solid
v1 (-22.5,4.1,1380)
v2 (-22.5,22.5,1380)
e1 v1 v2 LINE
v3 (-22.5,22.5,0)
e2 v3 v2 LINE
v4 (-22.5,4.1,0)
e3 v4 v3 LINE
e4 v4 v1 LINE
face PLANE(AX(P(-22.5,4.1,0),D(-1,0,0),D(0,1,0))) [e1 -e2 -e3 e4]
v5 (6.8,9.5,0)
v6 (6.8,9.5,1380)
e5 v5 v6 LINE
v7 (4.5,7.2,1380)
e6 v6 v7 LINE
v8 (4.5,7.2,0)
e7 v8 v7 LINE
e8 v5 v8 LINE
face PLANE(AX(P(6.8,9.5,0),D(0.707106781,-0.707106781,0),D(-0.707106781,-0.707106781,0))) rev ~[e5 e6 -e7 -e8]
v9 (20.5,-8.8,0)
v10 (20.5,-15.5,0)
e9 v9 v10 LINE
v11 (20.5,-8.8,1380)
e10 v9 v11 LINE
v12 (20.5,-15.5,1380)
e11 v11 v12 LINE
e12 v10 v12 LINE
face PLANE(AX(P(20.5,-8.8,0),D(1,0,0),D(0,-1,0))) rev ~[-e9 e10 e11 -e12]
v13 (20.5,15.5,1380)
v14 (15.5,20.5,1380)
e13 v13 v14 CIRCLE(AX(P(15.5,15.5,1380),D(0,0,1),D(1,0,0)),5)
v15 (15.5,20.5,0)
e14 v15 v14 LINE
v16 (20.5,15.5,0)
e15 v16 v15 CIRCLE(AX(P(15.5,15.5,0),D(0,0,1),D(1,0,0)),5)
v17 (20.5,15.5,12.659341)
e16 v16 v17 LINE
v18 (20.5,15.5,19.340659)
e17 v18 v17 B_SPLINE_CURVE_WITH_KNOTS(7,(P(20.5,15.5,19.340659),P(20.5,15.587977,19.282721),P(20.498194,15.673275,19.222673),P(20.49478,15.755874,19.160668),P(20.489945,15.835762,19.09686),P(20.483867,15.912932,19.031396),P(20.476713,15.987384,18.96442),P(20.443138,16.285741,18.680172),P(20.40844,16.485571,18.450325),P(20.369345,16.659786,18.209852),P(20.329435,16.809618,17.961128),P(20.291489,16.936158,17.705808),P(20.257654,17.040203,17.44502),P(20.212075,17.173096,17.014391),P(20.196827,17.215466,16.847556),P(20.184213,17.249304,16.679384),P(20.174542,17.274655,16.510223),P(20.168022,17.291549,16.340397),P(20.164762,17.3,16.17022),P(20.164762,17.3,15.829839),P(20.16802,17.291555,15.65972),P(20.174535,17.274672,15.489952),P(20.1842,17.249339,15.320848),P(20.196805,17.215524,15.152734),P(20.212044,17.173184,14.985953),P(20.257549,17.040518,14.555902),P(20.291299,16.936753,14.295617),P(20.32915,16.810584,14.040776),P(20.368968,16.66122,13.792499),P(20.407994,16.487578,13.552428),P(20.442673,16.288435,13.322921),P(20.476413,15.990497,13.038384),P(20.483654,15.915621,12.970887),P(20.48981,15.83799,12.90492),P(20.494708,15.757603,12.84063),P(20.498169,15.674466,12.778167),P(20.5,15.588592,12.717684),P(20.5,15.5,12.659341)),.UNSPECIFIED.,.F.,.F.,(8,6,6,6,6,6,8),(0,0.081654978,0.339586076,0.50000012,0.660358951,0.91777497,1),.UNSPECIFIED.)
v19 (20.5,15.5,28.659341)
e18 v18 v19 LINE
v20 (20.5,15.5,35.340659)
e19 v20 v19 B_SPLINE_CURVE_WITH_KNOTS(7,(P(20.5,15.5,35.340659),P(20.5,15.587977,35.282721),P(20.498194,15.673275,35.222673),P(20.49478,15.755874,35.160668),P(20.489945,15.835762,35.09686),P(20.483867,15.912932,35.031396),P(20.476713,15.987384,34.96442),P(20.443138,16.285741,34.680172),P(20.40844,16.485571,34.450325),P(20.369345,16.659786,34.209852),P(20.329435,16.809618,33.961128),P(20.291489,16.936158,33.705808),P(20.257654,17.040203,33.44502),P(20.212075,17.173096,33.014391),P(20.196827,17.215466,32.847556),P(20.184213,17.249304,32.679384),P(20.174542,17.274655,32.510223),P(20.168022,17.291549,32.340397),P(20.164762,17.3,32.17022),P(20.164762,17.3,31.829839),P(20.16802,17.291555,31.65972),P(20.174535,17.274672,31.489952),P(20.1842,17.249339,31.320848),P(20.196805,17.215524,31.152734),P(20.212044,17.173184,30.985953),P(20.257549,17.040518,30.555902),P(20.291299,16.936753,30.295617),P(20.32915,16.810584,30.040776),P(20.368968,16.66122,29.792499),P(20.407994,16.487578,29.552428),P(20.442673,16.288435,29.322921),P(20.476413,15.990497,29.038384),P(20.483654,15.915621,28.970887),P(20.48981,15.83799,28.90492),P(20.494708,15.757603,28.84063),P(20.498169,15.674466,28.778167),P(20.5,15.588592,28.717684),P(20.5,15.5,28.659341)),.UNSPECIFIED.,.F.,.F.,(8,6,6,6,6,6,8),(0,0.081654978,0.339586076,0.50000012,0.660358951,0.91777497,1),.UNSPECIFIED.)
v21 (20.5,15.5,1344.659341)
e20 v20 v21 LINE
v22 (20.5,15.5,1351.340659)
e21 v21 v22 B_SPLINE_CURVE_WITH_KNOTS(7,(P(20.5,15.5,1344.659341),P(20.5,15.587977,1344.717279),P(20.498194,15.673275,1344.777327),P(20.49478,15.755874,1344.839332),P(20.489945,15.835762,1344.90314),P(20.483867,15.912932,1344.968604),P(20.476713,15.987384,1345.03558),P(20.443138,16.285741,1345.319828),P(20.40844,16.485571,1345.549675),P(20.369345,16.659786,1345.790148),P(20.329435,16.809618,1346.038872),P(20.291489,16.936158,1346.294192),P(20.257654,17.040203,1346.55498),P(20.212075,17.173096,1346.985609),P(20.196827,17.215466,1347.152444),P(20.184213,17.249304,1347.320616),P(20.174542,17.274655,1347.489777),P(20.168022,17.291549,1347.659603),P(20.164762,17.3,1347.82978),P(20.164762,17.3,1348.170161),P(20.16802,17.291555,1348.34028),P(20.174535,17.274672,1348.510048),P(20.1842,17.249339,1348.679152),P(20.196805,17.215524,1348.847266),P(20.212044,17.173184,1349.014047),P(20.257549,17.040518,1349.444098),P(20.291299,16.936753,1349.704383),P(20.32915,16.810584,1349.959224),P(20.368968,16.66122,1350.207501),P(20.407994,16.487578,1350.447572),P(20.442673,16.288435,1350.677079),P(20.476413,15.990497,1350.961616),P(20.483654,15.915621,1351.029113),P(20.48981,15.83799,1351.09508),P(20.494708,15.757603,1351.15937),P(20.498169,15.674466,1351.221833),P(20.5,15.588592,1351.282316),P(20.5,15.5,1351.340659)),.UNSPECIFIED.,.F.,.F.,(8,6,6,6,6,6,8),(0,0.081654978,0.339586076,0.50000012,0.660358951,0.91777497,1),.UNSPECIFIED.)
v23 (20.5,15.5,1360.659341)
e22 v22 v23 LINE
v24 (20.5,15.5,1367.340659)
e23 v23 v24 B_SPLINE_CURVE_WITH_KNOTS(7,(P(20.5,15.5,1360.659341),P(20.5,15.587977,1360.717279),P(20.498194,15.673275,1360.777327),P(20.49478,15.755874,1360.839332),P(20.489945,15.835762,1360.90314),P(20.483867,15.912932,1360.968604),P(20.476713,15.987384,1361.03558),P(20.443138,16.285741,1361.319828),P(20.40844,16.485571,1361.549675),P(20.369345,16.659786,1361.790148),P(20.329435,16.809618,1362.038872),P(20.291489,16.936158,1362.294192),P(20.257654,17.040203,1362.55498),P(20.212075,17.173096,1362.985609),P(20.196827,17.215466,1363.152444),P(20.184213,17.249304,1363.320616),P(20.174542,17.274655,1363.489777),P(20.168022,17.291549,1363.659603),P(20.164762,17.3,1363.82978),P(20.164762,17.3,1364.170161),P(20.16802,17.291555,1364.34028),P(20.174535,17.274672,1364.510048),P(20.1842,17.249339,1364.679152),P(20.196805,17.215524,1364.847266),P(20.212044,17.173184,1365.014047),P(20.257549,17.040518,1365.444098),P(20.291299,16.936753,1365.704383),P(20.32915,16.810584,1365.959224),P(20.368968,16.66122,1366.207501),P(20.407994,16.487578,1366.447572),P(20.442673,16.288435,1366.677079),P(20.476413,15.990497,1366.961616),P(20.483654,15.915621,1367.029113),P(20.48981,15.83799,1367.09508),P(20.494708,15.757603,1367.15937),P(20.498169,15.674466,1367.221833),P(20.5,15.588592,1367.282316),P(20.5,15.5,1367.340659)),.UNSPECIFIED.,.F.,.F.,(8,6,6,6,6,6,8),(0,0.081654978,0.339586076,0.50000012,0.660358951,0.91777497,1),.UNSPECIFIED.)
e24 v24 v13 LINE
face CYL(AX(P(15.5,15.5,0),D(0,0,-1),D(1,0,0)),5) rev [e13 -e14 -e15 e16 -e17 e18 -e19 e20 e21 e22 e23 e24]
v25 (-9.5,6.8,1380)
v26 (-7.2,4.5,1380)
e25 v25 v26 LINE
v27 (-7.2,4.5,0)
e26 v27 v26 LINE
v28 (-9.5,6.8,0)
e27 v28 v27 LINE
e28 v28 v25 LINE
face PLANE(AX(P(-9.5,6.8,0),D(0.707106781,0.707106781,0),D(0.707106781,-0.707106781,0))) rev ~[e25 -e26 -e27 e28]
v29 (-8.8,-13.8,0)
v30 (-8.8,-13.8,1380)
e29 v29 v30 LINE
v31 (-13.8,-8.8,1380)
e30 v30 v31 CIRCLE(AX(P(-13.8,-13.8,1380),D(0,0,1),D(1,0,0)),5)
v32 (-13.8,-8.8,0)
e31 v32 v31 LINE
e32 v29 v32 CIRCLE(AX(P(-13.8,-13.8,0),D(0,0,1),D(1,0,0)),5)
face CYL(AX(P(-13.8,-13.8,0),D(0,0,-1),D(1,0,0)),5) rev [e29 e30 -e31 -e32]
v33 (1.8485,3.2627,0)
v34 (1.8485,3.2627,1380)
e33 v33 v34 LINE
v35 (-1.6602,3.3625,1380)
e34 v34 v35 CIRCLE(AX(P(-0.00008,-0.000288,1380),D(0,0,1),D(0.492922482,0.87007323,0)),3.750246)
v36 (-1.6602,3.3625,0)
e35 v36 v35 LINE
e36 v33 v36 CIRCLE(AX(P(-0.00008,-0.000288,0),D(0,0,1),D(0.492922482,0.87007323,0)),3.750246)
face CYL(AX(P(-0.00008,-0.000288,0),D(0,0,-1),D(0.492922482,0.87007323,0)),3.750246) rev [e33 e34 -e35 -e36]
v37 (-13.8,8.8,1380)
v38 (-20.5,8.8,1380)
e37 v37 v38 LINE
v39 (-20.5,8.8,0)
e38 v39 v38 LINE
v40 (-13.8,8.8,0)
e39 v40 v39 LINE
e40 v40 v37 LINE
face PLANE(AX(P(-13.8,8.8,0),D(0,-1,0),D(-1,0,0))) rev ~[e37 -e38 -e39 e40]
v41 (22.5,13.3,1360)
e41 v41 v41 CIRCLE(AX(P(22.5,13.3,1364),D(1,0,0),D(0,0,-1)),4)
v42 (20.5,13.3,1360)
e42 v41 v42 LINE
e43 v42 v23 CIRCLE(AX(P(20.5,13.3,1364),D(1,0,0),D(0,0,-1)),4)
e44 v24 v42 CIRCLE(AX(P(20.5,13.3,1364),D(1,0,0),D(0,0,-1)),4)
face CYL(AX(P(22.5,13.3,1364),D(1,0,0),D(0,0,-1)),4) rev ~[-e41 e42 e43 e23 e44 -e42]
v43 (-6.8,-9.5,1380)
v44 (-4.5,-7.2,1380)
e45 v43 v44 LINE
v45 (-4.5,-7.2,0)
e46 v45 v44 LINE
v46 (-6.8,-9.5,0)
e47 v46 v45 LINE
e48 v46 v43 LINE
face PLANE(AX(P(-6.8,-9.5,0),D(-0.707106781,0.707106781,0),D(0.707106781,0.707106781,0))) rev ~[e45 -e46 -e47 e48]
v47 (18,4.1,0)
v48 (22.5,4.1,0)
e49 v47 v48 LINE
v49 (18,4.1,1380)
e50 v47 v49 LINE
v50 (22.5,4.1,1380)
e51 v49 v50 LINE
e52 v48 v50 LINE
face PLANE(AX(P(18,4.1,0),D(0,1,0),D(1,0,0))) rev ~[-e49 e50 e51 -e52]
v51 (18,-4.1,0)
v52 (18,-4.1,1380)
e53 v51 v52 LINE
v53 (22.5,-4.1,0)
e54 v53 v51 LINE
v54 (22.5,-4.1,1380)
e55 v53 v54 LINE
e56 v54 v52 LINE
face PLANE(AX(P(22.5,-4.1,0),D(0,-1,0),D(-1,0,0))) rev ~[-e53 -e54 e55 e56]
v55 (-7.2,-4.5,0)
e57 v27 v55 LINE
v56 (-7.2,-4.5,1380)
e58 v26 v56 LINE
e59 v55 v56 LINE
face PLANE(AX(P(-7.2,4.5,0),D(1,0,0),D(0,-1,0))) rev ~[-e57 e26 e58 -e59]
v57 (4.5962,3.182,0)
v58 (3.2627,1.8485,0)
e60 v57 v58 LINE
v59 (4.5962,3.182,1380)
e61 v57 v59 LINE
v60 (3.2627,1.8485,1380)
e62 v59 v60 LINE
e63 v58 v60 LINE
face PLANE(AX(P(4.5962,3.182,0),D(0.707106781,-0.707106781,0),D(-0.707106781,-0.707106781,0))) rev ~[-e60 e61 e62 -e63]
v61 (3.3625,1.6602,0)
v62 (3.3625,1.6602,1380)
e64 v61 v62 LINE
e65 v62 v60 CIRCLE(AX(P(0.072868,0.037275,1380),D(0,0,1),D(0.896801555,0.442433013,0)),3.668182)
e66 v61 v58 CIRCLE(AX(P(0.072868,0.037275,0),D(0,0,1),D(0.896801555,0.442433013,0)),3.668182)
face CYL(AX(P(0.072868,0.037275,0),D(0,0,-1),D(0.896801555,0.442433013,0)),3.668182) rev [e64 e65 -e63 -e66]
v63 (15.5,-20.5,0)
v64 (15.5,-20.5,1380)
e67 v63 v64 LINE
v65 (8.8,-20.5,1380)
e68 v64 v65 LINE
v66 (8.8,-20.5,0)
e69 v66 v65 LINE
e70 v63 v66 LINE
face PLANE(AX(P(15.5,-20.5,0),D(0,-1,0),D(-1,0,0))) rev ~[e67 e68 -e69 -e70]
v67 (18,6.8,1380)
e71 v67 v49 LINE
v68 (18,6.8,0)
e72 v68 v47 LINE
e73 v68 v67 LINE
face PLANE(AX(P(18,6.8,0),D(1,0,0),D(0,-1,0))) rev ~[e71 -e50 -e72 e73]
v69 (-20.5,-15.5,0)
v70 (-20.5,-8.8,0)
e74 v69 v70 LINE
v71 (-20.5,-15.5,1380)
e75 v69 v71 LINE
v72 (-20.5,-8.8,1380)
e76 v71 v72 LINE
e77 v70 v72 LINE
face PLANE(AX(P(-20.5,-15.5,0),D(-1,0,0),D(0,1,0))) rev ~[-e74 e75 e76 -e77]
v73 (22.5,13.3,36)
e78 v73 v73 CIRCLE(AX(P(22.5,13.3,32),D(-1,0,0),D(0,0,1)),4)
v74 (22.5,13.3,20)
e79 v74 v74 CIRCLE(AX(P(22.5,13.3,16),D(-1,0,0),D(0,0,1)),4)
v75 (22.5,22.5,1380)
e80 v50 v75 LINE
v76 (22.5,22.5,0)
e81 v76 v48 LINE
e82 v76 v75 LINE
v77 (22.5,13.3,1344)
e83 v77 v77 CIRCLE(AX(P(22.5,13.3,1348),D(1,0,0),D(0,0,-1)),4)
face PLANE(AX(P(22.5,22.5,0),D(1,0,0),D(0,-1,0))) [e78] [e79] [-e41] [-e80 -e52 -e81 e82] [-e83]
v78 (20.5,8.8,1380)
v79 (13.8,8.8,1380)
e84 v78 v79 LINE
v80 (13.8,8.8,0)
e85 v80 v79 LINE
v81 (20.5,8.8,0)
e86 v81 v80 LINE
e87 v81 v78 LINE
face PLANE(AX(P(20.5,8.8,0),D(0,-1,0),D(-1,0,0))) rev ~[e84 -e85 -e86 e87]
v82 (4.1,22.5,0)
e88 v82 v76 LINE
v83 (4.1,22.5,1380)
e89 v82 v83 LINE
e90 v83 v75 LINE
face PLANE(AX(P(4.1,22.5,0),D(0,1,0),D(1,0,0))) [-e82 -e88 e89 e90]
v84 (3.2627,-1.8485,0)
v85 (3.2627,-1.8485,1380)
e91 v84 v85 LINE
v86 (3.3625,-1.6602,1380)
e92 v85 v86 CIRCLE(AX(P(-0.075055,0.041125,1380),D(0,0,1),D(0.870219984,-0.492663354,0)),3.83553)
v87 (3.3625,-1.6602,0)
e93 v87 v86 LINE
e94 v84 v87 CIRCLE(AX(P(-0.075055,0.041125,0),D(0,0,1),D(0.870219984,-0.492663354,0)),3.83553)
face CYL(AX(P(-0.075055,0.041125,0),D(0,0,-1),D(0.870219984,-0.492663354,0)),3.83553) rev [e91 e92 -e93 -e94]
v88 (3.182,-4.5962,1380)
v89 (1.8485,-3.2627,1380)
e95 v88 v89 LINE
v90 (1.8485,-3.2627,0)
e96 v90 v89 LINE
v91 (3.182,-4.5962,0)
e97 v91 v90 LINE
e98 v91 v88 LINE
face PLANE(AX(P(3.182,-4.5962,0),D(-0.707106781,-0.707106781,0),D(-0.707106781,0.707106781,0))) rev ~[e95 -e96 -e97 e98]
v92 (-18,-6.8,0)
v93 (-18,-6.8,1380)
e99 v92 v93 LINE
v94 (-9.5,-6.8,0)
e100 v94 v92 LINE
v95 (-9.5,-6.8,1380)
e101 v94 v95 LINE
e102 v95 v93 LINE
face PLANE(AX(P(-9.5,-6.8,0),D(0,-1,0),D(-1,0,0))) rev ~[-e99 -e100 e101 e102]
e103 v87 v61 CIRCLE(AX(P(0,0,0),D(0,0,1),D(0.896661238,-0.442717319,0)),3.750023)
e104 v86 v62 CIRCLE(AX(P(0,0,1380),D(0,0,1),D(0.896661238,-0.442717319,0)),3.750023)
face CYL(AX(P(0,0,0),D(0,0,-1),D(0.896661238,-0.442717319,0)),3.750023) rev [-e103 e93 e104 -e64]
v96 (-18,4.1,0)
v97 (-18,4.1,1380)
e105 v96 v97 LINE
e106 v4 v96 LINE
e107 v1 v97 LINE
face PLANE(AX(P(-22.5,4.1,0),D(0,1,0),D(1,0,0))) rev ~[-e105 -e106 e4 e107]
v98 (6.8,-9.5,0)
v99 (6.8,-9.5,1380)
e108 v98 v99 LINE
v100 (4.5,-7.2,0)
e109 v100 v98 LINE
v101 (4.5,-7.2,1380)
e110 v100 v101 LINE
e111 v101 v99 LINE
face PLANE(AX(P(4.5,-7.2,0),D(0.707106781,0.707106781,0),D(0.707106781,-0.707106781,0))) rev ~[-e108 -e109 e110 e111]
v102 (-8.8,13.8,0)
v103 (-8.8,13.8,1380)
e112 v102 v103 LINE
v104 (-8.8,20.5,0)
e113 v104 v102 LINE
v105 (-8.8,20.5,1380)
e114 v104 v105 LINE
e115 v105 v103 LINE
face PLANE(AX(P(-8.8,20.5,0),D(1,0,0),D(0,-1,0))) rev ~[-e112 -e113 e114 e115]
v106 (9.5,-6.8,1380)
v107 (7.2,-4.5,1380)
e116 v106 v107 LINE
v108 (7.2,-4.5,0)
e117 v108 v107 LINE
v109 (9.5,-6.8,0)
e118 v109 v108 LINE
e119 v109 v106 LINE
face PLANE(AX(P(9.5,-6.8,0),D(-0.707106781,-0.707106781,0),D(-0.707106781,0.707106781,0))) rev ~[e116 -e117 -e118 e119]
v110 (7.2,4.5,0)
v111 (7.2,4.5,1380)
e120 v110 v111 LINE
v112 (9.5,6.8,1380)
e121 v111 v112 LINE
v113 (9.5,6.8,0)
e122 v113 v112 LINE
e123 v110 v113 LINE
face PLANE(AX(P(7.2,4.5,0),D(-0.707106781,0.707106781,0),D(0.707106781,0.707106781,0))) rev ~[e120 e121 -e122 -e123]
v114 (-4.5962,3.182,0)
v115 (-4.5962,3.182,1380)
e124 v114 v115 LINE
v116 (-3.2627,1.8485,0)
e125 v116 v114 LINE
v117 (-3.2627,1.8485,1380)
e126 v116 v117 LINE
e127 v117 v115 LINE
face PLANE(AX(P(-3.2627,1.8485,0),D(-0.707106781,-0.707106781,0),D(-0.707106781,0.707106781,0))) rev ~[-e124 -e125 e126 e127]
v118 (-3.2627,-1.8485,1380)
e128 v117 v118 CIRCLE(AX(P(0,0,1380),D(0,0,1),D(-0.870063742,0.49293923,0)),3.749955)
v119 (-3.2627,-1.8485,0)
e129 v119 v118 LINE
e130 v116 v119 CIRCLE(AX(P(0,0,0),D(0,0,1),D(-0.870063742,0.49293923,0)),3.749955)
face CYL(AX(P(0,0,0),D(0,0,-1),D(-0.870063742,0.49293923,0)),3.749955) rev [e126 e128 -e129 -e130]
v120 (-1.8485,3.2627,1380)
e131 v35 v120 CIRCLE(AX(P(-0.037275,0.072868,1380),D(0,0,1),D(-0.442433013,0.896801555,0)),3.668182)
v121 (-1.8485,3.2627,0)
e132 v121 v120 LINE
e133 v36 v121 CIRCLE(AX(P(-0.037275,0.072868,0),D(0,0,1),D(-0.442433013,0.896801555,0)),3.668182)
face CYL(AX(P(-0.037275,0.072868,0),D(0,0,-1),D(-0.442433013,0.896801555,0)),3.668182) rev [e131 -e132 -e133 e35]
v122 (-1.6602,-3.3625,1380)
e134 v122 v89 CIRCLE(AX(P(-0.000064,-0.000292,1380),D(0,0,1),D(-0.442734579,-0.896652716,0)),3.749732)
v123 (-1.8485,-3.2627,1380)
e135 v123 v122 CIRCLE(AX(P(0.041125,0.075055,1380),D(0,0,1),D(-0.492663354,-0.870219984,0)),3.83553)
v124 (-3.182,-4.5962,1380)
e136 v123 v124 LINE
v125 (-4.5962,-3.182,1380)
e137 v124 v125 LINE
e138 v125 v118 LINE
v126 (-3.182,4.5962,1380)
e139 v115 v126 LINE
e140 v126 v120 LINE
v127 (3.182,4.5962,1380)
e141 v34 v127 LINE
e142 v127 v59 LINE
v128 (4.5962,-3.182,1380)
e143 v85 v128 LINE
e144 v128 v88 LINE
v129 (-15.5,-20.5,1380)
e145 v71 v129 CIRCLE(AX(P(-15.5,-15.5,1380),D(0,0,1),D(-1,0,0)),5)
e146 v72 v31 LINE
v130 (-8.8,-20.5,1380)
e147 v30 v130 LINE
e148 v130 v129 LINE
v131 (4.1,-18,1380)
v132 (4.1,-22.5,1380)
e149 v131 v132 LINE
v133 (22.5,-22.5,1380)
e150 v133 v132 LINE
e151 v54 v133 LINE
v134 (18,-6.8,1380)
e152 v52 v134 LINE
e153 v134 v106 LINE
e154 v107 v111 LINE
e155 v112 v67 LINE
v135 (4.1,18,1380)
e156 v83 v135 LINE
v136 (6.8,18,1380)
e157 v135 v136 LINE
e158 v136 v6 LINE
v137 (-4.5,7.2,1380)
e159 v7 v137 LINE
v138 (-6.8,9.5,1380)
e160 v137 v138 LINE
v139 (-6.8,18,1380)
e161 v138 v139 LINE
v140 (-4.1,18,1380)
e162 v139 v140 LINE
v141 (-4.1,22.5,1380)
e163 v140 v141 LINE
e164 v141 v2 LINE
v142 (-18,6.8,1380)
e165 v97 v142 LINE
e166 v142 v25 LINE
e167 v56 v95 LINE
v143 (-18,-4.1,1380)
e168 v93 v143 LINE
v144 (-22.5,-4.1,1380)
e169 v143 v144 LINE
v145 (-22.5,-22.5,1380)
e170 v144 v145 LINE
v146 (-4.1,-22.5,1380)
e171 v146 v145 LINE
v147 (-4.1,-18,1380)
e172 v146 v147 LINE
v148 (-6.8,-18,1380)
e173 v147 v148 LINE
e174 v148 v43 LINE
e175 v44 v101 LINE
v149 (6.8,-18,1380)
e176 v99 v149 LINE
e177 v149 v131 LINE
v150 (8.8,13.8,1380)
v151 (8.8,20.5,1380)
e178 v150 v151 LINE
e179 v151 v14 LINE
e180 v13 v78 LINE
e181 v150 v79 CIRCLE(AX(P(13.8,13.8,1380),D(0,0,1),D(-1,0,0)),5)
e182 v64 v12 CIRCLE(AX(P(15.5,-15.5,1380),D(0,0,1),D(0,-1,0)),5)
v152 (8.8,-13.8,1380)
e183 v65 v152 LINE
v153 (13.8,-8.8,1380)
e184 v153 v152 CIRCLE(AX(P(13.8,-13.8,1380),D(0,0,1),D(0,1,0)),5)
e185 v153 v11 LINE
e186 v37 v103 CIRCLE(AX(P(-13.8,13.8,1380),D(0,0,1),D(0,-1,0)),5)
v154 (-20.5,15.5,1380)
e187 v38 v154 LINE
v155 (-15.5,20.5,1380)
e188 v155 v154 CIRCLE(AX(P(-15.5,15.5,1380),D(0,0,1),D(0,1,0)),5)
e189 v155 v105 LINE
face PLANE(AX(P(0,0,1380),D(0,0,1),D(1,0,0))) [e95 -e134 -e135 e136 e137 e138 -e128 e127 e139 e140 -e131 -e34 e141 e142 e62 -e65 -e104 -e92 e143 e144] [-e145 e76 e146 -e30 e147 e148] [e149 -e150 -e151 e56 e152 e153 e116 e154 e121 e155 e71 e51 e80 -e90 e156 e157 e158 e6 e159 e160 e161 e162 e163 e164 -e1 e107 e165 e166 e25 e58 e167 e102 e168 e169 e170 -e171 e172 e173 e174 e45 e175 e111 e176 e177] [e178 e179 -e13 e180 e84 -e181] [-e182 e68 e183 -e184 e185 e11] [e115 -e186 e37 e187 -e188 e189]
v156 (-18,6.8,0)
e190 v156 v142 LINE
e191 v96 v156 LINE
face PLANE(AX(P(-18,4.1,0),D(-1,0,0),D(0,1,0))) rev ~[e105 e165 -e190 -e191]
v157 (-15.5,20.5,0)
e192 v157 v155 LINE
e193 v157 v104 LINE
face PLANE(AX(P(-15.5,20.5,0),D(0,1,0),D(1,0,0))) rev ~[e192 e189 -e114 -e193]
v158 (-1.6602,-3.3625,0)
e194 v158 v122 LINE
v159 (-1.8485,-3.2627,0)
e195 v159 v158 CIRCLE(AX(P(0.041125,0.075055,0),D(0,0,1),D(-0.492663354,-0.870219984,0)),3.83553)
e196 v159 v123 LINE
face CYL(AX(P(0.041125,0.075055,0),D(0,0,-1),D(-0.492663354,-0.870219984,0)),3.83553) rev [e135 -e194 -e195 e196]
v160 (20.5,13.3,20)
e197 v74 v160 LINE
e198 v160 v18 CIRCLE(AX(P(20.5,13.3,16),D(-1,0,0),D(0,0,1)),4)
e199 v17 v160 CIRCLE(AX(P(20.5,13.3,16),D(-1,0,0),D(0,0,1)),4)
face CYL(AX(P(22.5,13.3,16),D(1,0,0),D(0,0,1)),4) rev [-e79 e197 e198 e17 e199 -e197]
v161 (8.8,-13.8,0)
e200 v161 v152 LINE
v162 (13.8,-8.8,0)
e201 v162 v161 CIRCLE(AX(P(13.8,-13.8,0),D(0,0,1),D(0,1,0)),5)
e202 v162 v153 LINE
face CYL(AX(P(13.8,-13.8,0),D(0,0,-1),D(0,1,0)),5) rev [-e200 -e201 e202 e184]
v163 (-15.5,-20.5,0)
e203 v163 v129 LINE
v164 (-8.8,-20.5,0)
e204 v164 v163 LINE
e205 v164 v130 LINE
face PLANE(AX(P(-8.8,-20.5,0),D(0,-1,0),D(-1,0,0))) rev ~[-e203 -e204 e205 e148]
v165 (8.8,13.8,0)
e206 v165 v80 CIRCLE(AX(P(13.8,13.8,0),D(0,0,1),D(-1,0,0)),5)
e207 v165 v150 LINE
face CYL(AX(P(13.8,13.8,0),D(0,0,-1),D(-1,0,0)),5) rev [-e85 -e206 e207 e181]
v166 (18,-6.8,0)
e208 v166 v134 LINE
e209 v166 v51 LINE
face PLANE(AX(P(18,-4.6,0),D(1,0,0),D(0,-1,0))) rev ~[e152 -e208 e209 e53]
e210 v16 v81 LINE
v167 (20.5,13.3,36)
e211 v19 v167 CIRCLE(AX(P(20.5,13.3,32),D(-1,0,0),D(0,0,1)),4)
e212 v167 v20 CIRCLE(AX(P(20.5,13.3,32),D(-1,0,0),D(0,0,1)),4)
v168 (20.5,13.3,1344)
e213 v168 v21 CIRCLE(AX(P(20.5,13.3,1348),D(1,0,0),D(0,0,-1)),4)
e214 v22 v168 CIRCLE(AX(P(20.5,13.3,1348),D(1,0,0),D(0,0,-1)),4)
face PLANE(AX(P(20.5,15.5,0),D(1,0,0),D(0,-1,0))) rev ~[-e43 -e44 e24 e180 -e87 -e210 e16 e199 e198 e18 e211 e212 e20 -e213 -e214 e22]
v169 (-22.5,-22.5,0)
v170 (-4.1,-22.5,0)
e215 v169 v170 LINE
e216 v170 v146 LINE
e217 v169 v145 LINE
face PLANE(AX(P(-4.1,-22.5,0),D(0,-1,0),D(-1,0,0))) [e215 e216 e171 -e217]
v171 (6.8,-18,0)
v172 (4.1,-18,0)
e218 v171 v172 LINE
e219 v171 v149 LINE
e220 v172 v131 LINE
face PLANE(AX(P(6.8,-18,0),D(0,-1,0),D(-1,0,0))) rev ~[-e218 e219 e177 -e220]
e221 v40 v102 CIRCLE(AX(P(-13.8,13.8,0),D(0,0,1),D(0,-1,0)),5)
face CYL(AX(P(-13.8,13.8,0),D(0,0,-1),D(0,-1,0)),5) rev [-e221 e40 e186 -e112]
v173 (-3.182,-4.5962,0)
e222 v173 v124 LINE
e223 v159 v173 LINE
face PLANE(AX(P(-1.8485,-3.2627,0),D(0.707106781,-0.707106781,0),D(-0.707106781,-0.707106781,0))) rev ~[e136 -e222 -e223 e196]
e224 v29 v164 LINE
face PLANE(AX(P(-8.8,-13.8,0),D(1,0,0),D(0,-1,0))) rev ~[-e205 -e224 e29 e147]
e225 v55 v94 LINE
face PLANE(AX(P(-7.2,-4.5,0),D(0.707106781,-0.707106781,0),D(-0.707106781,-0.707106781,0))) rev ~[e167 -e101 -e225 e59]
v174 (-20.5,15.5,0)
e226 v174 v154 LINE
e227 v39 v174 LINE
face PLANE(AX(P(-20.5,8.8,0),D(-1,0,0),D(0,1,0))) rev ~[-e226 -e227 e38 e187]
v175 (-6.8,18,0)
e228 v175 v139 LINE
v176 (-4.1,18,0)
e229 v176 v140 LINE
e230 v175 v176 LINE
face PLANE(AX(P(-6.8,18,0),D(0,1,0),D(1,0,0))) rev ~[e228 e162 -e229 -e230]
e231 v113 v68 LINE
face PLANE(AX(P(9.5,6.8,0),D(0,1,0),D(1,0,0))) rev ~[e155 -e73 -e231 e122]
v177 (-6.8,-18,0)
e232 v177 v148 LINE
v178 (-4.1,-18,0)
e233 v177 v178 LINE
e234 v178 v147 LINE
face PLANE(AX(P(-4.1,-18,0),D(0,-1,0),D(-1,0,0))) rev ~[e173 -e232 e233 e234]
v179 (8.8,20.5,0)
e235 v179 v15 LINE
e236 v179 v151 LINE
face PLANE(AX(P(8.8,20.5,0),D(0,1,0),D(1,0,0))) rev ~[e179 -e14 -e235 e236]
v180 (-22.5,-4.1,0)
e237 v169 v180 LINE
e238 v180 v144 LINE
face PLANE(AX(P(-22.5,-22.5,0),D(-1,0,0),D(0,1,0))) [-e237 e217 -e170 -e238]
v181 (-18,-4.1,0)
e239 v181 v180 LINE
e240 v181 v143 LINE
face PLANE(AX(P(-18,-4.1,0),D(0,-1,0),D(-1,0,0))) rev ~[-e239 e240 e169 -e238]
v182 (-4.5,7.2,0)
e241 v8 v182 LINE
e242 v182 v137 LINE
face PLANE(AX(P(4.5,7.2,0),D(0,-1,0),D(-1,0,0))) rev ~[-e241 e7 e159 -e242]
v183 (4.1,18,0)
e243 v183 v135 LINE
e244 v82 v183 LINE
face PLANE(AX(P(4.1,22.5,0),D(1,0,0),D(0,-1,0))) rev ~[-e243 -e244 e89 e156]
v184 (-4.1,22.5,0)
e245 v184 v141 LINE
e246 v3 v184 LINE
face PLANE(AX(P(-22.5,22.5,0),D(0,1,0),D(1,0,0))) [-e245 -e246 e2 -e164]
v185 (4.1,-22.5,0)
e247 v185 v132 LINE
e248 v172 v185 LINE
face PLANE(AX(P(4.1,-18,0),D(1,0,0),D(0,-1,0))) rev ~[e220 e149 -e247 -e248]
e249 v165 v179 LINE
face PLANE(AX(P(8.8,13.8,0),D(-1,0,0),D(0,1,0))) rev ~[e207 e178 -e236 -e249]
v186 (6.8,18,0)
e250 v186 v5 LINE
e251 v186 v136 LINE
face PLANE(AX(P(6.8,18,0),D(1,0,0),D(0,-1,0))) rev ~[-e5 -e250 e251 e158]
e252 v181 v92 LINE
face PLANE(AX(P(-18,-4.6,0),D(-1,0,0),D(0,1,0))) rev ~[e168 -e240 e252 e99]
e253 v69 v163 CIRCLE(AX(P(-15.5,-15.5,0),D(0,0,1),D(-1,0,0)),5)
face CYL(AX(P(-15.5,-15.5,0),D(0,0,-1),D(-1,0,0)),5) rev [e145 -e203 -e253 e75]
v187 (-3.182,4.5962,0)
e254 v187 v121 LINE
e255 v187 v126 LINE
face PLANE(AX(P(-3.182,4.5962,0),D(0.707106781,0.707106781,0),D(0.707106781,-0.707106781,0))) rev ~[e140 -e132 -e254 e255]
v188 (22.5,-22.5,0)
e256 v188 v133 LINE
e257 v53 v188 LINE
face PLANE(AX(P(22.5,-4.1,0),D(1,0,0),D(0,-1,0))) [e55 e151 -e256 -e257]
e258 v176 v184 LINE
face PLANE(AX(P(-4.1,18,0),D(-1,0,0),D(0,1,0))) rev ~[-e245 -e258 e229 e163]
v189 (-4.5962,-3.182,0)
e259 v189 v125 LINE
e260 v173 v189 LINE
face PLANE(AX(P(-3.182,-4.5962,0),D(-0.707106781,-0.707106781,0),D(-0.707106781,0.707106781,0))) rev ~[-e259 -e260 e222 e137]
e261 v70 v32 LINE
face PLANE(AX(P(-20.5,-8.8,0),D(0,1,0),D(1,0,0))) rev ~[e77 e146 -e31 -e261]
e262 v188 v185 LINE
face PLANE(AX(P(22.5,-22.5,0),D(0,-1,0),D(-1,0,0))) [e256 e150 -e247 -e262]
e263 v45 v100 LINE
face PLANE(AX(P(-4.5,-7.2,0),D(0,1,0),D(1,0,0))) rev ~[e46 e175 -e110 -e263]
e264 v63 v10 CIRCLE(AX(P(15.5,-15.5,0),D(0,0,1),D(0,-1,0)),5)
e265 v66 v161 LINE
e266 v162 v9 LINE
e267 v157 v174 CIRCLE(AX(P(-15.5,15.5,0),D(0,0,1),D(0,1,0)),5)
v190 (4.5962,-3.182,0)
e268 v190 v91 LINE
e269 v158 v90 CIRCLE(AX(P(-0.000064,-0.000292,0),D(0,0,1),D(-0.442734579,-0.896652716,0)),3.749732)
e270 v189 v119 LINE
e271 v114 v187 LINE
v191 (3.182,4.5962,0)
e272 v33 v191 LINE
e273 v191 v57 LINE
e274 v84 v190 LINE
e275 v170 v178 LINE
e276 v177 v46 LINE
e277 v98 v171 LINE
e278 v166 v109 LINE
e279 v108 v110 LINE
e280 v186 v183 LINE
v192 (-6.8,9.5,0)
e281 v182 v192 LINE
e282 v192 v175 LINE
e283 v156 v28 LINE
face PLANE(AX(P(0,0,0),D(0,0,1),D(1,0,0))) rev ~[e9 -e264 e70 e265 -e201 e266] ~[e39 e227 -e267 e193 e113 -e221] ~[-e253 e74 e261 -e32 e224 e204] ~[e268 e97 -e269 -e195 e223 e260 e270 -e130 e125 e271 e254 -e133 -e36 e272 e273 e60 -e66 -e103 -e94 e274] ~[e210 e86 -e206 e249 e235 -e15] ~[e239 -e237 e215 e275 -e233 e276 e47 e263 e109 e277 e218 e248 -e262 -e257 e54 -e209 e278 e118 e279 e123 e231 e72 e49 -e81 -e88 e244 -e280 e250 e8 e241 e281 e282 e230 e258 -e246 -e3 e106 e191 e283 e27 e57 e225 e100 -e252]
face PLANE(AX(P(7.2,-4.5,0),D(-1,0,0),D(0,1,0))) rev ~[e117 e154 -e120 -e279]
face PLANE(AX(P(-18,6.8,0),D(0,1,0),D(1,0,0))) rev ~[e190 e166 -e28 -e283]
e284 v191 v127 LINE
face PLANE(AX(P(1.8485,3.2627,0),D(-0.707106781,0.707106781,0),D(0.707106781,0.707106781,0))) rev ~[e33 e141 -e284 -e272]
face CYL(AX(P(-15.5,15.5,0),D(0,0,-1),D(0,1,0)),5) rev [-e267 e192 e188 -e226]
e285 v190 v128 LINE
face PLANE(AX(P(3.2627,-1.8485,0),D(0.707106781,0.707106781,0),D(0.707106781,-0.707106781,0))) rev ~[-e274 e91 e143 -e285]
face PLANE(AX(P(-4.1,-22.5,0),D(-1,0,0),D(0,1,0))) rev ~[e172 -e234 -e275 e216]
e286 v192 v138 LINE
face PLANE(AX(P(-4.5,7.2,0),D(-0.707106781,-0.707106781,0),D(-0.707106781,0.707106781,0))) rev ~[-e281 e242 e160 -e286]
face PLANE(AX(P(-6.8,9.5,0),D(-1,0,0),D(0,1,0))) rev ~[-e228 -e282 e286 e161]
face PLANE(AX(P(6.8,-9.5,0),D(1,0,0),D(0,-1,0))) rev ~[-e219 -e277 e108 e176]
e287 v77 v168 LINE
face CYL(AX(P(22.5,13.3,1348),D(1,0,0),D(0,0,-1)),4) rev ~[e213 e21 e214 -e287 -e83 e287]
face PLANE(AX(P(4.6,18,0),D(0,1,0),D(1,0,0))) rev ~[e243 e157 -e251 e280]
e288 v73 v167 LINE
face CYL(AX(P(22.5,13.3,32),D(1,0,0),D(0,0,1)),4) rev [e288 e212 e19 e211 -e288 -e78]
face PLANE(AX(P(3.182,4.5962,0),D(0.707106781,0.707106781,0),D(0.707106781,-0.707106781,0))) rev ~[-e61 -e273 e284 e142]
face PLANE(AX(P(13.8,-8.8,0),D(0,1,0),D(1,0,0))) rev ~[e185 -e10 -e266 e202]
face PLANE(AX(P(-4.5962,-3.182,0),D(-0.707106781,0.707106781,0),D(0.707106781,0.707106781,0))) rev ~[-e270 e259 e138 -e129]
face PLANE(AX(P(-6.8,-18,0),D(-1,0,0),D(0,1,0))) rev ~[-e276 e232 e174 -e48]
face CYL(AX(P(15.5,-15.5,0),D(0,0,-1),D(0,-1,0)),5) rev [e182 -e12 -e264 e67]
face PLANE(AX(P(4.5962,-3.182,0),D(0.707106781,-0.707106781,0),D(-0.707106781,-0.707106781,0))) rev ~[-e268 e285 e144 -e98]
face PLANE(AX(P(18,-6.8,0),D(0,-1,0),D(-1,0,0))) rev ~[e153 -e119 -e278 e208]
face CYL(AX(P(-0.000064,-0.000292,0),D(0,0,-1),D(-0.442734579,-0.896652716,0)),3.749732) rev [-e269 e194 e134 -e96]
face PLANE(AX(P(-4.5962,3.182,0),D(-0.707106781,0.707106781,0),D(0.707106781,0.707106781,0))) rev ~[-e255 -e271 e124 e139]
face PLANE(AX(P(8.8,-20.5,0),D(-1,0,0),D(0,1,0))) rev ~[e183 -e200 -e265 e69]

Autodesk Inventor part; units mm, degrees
ref_plane "YZ Plane" through (0, 0, 0) normal (1, 0, 0) x (0, 1, 0)
ref_plane "XZ Plane" through (0, 0, 0) normal (0, 1, 0) x (-1, 0, 0)
ref_plane "XY Plane" through (0, 0, 0) normal (0, 0, 1) x (1, 0, 0)
sketch "Sketch1" plane through (0, 0, 0) normal (0, 0, 1) x (1, 0, 0)
  line L0 (-4.1, -22.5) -> (-4.1, -18)
  line L1 (-4.6, -18) -> (-6.8, -18)
  line L2 (-6.8, -18) -> (-6.8, -9.5)
  line L3 (-6.8, -9.5) -> (-4.5, -7.2)
  line L4 (-4.5, -7.2) -> (4.5, -7.2)
  line L5 (4.5, -7.2) -> (6.8, -9.5)
  line L6 (6.8, -9.5) -> (6.8, -18)
  line L7 (4.1, -18) -> (4.1, -22.5)
  line L8 (22.5, -4.1) -> (18, -4.1)
  line L9 (18, -4.6) -> (18, -6.8)
  line L10 (18, -6.8) -> (9.5, -6.8)
  line L11 (9.5, -6.8) -> (7.2, -4.5)
  line L12 (7.2, -4.5) -> (7.2, 4.5)
  line L13 (7.2, 4.5) -> (9.5, 6.8)
  line L14 (9.5, 6.8) -> (18, 6.8)
  line L15 (18, 4.1) -> (22.5, 4.1)
  line L16 (22.5, 22.5) -> (22.5, 4.4)
  line L17 (4.1, 22.5) -> (4.1, 18)
  line L18 (4.6, 18) -> (6.8, 18)
  line L19 (6.8, 18) -> (6.8, 9.5)
  line L20 (6.8, 9.5) -> (4.5, 7.2)
  line L21 (4.5, 7.2) -> (-4.5, 7.2)
  line L22 (-4.5, 7.2) -> (-6.8, 9.5)
  line L23 (-6.8, 9.5) -> (-6.8, 18)
  line L24 (-4.1, 18) -> (-4.1, 22.5)
  line L25 (-22.5, 22.5) -> (-4.4, 22.5)
  line L26 (-22.5, 4.1) -> (-18, 4.1)
  line L27 (-18, 6.8) -> (-9.5, 6.8)
  line L28 (-9.5, 6.8) -> (-7.2, 4.5)
  line L29 (-7.2, 4.5) -> (-7.2, -4.5)
  line L30 (-7.2, -4.5) -> (-9.5, -6.8)
  line L31 (-9.5, -6.8) -> (-18, -6.8)
  line L32 (-18, -6.8) -> (-18, -4.6)
  line L33 (-18, -4.1) -> (-22.5, -4.1)
  line L34 (-22.5, -22.5) -> (-22.5, -4.4)
  line L35 (-4.4, -22.5) -> (-22.5, -22.5)
  line L36 (-4.5962, -3.182) -> (-3.2627, -1.8485)
  line L37 (-3.2627, 1.8485) -> (-4.5962, 3.182)
  line L38 (-4.5962, 3.182) -> (-3.182, 4.5962)
  line L39 (-3.182, 4.5962) -> (-1.8485, 3.2627)
  line L40 (1.8485, 3.2627) -> (3.182, 4.5962)
  line L41 (3.182, 4.5962) -> (4.5962, 3.182)
  line L42 (4.5962, 3.182) -> (3.2627, 1.8485)
  arc A0 (3.3625, -1.6602) -> (3.3625, 1.6602) centre (0, 0) ccw
  line L43 (3.2627, -1.8485) -> (4.5962, -3.182)
  line L44 (4.5962, -3.182) -> (3.182, -4.5962)
  line L45 (3.182, -4.5962) -> (1.8485, -3.2627)
  line L46 (-1.8485, -3.2627) -> (-3.182, -4.5962)
  line L47 (-3.182, -4.5962) -> (-4.5962, -3.182)
  arc A1 (13.8, -8.8) -> (8.8, -13.8) centre (13.8, -13.8) ccw
  line L48 (13.8, -8.8) -> (20.5, -8.8)
  line L49 (20.5, -8.8) -> (20.5, -15.5)
  arc A2 (15.5, -20.5) -> (20.5, -15.5) centre (15.5, -15.5) ccw
  line L50 (15.5, -20.5) -> (8.8, -20.5)
  line L51 (8.8, -20.5) -> (8.8, -13.8)
  arc A3 (8.8, 13.8) -> (13.8, 8.8) centre (13.8, 13.8) ccw
  line L52 (8.8, 13.8) -> (8.8, 20.5)
  line L53 (8.8, 20.5) -> (15.5, 20.5)
  arc A4 (20.5, 15.5) -> (15.5, 20.5) centre (15.5, 15.5) ccw
  line L54 (20.5, 15.5) -> (20.5, 8.8)
  line L55 (20.5, 8.8) -> (13.8, 8.8)
  arc A5 (-13.8, 8.8) -> (-8.8, 13.8) centre (-13.8, 13.8) ccw
  line L56 (-13.8, 8.8) -> (-20.5, 8.8)
  line L57 (-20.5, 8.8) -> (-20.5, 15.5)
  arc A6 (-15.5, 20.5) -> (-20.5, 15.5) centre (-15.5, 15.5) ccw
  line L58 (-15.5, 20.5) -> (-8.8, 20.5)
  line L59 (-8.8, 20.5) -> (-8.8, 13.8)
  arc A7 (-8.8, -13.8) -> (-13.8, -8.8) centre (-13.8, -13.8) ccw
  line L60 (-8.8, -13.8) -> (-8.8, -20.5)
  line L61 (-8.8, -20.5) -> (-15.5, -20.5)
  arc A8 (-20.5, -15.5) -> (-15.5, -20.5) centre (-15.5, -15.5) ccw
  line L62 (-20.5, -15.5) -> (-20.5, -8.8)
  line L63 (-20.5, -8.8) -> (-13.8, -8.8)
  line L64 (-6.8, 18) -> (-4.1, 18)
  line L65 (4.1, 18) -> (4.6, 18)
  line L66 (-4.4, 22.5) -> (-4.1, 22.5)
  line L67 (4.1, 22.5) -> (22.5, 22.5)
  arc A9 (3.3625, 1.6602) -> (3.2627, 1.8485) centre (0, 0) ccw
  arc A10 (1.8485, 3.2627) -> (-1.6602, 3.3625) centre (0, 0) ccw
  arc A11 (-1.6602, 3.3625) -> (-1.8485, 3.2627) centre (0, 0) ccw
  arc A12 (-3.2627, 1.8485) -> (-3.2627, -1.8485) centre (0, 0) ccw
  arc A13 (-1.8485, -3.2627) -> (-1.6602, -3.3625) centre (0, 0) ccw
  arc A14 (-1.6602, -3.3625) -> (1.8485, -3.2627) centre (0, 0) ccw
  arc A15 (3.2627, -1.8485) -> (3.3625, -1.6602) centre (0, 0) ccw
  line L68 (18, 6.8) -> (18, 4.1)
  line L69 (18, -4.1) -> (18, -4.6)
  line L70 (22.5, 4.4) -> (22.5, 4.1)
  line L71 (22.5, -4.1) -> (22.5, -22.5)
  line L72 (6.8, -18) -> (4.1, -18)
  line L73 (-4.1, -18) -> (-4.6, -18)
  line L74 (22.5, -22.5) -> (4.1, -22.5)
  line L75 (-4.1, -22.5) -> (-4.4, -22.5)
  line L76 (-22.5, -4.4) -> (-22.5, -4.1)
  line L77 (-22.5, 4.1) -> (-22.5, 22.5)
  line L78 (-18, -4.6) -> (-18, -4.1)
  line L79 (-18, 4.1) -> (-18, 6.8)
extrude "Extrusion1" add sketch "Sketch1" along normal blind 1380
sketch "Sketch3" plane through (22.5, 22.5, 1380) normal (1, 0, 0) x (0, 0, -1)
  line L0 (1380, 0) -> (0, 0) projected
  line L1 (0, -18.4) -> (0, 0) projected
  line L2 (1380, 0) -> (1380, -18.4) projected
  line L3 (1380, -18.4) -> (0, -18.4) projected
  circle A0 centre (16, -9.2) radius 4
  circle A1 centre (32, -9.2) radius 4
  point P0 (1380, -22.5)
  dimension "d7" = 8
  dimension "d8" = 16
  dimension "d9" = 8
  dimension "d10" = 32
  dimension "d13" = 18.4
  dimension "d14" = 9.2
  dimension "d16" = 9.2
ref_plane "Work Plane2" through (0, 0, 690) normal (0, 0, 1) x (1, 0, 0)
extrude "Extrusion4" cut sketch "Sketch3" against normal up to next contours A0 | A1
mirror "Mirror3" about plane through (0, 0, 690) normal (0, 0, 1) of "Extrusion4"
equation "\"d9\" = d7"
equation "\"d10\" = d8 + 2 * d7"
equation "\"d14\" = 0.5 * d13"
equation "\"d16\" = d14"
properties part number "HeaderTrack" material "Aluminum-6061"
